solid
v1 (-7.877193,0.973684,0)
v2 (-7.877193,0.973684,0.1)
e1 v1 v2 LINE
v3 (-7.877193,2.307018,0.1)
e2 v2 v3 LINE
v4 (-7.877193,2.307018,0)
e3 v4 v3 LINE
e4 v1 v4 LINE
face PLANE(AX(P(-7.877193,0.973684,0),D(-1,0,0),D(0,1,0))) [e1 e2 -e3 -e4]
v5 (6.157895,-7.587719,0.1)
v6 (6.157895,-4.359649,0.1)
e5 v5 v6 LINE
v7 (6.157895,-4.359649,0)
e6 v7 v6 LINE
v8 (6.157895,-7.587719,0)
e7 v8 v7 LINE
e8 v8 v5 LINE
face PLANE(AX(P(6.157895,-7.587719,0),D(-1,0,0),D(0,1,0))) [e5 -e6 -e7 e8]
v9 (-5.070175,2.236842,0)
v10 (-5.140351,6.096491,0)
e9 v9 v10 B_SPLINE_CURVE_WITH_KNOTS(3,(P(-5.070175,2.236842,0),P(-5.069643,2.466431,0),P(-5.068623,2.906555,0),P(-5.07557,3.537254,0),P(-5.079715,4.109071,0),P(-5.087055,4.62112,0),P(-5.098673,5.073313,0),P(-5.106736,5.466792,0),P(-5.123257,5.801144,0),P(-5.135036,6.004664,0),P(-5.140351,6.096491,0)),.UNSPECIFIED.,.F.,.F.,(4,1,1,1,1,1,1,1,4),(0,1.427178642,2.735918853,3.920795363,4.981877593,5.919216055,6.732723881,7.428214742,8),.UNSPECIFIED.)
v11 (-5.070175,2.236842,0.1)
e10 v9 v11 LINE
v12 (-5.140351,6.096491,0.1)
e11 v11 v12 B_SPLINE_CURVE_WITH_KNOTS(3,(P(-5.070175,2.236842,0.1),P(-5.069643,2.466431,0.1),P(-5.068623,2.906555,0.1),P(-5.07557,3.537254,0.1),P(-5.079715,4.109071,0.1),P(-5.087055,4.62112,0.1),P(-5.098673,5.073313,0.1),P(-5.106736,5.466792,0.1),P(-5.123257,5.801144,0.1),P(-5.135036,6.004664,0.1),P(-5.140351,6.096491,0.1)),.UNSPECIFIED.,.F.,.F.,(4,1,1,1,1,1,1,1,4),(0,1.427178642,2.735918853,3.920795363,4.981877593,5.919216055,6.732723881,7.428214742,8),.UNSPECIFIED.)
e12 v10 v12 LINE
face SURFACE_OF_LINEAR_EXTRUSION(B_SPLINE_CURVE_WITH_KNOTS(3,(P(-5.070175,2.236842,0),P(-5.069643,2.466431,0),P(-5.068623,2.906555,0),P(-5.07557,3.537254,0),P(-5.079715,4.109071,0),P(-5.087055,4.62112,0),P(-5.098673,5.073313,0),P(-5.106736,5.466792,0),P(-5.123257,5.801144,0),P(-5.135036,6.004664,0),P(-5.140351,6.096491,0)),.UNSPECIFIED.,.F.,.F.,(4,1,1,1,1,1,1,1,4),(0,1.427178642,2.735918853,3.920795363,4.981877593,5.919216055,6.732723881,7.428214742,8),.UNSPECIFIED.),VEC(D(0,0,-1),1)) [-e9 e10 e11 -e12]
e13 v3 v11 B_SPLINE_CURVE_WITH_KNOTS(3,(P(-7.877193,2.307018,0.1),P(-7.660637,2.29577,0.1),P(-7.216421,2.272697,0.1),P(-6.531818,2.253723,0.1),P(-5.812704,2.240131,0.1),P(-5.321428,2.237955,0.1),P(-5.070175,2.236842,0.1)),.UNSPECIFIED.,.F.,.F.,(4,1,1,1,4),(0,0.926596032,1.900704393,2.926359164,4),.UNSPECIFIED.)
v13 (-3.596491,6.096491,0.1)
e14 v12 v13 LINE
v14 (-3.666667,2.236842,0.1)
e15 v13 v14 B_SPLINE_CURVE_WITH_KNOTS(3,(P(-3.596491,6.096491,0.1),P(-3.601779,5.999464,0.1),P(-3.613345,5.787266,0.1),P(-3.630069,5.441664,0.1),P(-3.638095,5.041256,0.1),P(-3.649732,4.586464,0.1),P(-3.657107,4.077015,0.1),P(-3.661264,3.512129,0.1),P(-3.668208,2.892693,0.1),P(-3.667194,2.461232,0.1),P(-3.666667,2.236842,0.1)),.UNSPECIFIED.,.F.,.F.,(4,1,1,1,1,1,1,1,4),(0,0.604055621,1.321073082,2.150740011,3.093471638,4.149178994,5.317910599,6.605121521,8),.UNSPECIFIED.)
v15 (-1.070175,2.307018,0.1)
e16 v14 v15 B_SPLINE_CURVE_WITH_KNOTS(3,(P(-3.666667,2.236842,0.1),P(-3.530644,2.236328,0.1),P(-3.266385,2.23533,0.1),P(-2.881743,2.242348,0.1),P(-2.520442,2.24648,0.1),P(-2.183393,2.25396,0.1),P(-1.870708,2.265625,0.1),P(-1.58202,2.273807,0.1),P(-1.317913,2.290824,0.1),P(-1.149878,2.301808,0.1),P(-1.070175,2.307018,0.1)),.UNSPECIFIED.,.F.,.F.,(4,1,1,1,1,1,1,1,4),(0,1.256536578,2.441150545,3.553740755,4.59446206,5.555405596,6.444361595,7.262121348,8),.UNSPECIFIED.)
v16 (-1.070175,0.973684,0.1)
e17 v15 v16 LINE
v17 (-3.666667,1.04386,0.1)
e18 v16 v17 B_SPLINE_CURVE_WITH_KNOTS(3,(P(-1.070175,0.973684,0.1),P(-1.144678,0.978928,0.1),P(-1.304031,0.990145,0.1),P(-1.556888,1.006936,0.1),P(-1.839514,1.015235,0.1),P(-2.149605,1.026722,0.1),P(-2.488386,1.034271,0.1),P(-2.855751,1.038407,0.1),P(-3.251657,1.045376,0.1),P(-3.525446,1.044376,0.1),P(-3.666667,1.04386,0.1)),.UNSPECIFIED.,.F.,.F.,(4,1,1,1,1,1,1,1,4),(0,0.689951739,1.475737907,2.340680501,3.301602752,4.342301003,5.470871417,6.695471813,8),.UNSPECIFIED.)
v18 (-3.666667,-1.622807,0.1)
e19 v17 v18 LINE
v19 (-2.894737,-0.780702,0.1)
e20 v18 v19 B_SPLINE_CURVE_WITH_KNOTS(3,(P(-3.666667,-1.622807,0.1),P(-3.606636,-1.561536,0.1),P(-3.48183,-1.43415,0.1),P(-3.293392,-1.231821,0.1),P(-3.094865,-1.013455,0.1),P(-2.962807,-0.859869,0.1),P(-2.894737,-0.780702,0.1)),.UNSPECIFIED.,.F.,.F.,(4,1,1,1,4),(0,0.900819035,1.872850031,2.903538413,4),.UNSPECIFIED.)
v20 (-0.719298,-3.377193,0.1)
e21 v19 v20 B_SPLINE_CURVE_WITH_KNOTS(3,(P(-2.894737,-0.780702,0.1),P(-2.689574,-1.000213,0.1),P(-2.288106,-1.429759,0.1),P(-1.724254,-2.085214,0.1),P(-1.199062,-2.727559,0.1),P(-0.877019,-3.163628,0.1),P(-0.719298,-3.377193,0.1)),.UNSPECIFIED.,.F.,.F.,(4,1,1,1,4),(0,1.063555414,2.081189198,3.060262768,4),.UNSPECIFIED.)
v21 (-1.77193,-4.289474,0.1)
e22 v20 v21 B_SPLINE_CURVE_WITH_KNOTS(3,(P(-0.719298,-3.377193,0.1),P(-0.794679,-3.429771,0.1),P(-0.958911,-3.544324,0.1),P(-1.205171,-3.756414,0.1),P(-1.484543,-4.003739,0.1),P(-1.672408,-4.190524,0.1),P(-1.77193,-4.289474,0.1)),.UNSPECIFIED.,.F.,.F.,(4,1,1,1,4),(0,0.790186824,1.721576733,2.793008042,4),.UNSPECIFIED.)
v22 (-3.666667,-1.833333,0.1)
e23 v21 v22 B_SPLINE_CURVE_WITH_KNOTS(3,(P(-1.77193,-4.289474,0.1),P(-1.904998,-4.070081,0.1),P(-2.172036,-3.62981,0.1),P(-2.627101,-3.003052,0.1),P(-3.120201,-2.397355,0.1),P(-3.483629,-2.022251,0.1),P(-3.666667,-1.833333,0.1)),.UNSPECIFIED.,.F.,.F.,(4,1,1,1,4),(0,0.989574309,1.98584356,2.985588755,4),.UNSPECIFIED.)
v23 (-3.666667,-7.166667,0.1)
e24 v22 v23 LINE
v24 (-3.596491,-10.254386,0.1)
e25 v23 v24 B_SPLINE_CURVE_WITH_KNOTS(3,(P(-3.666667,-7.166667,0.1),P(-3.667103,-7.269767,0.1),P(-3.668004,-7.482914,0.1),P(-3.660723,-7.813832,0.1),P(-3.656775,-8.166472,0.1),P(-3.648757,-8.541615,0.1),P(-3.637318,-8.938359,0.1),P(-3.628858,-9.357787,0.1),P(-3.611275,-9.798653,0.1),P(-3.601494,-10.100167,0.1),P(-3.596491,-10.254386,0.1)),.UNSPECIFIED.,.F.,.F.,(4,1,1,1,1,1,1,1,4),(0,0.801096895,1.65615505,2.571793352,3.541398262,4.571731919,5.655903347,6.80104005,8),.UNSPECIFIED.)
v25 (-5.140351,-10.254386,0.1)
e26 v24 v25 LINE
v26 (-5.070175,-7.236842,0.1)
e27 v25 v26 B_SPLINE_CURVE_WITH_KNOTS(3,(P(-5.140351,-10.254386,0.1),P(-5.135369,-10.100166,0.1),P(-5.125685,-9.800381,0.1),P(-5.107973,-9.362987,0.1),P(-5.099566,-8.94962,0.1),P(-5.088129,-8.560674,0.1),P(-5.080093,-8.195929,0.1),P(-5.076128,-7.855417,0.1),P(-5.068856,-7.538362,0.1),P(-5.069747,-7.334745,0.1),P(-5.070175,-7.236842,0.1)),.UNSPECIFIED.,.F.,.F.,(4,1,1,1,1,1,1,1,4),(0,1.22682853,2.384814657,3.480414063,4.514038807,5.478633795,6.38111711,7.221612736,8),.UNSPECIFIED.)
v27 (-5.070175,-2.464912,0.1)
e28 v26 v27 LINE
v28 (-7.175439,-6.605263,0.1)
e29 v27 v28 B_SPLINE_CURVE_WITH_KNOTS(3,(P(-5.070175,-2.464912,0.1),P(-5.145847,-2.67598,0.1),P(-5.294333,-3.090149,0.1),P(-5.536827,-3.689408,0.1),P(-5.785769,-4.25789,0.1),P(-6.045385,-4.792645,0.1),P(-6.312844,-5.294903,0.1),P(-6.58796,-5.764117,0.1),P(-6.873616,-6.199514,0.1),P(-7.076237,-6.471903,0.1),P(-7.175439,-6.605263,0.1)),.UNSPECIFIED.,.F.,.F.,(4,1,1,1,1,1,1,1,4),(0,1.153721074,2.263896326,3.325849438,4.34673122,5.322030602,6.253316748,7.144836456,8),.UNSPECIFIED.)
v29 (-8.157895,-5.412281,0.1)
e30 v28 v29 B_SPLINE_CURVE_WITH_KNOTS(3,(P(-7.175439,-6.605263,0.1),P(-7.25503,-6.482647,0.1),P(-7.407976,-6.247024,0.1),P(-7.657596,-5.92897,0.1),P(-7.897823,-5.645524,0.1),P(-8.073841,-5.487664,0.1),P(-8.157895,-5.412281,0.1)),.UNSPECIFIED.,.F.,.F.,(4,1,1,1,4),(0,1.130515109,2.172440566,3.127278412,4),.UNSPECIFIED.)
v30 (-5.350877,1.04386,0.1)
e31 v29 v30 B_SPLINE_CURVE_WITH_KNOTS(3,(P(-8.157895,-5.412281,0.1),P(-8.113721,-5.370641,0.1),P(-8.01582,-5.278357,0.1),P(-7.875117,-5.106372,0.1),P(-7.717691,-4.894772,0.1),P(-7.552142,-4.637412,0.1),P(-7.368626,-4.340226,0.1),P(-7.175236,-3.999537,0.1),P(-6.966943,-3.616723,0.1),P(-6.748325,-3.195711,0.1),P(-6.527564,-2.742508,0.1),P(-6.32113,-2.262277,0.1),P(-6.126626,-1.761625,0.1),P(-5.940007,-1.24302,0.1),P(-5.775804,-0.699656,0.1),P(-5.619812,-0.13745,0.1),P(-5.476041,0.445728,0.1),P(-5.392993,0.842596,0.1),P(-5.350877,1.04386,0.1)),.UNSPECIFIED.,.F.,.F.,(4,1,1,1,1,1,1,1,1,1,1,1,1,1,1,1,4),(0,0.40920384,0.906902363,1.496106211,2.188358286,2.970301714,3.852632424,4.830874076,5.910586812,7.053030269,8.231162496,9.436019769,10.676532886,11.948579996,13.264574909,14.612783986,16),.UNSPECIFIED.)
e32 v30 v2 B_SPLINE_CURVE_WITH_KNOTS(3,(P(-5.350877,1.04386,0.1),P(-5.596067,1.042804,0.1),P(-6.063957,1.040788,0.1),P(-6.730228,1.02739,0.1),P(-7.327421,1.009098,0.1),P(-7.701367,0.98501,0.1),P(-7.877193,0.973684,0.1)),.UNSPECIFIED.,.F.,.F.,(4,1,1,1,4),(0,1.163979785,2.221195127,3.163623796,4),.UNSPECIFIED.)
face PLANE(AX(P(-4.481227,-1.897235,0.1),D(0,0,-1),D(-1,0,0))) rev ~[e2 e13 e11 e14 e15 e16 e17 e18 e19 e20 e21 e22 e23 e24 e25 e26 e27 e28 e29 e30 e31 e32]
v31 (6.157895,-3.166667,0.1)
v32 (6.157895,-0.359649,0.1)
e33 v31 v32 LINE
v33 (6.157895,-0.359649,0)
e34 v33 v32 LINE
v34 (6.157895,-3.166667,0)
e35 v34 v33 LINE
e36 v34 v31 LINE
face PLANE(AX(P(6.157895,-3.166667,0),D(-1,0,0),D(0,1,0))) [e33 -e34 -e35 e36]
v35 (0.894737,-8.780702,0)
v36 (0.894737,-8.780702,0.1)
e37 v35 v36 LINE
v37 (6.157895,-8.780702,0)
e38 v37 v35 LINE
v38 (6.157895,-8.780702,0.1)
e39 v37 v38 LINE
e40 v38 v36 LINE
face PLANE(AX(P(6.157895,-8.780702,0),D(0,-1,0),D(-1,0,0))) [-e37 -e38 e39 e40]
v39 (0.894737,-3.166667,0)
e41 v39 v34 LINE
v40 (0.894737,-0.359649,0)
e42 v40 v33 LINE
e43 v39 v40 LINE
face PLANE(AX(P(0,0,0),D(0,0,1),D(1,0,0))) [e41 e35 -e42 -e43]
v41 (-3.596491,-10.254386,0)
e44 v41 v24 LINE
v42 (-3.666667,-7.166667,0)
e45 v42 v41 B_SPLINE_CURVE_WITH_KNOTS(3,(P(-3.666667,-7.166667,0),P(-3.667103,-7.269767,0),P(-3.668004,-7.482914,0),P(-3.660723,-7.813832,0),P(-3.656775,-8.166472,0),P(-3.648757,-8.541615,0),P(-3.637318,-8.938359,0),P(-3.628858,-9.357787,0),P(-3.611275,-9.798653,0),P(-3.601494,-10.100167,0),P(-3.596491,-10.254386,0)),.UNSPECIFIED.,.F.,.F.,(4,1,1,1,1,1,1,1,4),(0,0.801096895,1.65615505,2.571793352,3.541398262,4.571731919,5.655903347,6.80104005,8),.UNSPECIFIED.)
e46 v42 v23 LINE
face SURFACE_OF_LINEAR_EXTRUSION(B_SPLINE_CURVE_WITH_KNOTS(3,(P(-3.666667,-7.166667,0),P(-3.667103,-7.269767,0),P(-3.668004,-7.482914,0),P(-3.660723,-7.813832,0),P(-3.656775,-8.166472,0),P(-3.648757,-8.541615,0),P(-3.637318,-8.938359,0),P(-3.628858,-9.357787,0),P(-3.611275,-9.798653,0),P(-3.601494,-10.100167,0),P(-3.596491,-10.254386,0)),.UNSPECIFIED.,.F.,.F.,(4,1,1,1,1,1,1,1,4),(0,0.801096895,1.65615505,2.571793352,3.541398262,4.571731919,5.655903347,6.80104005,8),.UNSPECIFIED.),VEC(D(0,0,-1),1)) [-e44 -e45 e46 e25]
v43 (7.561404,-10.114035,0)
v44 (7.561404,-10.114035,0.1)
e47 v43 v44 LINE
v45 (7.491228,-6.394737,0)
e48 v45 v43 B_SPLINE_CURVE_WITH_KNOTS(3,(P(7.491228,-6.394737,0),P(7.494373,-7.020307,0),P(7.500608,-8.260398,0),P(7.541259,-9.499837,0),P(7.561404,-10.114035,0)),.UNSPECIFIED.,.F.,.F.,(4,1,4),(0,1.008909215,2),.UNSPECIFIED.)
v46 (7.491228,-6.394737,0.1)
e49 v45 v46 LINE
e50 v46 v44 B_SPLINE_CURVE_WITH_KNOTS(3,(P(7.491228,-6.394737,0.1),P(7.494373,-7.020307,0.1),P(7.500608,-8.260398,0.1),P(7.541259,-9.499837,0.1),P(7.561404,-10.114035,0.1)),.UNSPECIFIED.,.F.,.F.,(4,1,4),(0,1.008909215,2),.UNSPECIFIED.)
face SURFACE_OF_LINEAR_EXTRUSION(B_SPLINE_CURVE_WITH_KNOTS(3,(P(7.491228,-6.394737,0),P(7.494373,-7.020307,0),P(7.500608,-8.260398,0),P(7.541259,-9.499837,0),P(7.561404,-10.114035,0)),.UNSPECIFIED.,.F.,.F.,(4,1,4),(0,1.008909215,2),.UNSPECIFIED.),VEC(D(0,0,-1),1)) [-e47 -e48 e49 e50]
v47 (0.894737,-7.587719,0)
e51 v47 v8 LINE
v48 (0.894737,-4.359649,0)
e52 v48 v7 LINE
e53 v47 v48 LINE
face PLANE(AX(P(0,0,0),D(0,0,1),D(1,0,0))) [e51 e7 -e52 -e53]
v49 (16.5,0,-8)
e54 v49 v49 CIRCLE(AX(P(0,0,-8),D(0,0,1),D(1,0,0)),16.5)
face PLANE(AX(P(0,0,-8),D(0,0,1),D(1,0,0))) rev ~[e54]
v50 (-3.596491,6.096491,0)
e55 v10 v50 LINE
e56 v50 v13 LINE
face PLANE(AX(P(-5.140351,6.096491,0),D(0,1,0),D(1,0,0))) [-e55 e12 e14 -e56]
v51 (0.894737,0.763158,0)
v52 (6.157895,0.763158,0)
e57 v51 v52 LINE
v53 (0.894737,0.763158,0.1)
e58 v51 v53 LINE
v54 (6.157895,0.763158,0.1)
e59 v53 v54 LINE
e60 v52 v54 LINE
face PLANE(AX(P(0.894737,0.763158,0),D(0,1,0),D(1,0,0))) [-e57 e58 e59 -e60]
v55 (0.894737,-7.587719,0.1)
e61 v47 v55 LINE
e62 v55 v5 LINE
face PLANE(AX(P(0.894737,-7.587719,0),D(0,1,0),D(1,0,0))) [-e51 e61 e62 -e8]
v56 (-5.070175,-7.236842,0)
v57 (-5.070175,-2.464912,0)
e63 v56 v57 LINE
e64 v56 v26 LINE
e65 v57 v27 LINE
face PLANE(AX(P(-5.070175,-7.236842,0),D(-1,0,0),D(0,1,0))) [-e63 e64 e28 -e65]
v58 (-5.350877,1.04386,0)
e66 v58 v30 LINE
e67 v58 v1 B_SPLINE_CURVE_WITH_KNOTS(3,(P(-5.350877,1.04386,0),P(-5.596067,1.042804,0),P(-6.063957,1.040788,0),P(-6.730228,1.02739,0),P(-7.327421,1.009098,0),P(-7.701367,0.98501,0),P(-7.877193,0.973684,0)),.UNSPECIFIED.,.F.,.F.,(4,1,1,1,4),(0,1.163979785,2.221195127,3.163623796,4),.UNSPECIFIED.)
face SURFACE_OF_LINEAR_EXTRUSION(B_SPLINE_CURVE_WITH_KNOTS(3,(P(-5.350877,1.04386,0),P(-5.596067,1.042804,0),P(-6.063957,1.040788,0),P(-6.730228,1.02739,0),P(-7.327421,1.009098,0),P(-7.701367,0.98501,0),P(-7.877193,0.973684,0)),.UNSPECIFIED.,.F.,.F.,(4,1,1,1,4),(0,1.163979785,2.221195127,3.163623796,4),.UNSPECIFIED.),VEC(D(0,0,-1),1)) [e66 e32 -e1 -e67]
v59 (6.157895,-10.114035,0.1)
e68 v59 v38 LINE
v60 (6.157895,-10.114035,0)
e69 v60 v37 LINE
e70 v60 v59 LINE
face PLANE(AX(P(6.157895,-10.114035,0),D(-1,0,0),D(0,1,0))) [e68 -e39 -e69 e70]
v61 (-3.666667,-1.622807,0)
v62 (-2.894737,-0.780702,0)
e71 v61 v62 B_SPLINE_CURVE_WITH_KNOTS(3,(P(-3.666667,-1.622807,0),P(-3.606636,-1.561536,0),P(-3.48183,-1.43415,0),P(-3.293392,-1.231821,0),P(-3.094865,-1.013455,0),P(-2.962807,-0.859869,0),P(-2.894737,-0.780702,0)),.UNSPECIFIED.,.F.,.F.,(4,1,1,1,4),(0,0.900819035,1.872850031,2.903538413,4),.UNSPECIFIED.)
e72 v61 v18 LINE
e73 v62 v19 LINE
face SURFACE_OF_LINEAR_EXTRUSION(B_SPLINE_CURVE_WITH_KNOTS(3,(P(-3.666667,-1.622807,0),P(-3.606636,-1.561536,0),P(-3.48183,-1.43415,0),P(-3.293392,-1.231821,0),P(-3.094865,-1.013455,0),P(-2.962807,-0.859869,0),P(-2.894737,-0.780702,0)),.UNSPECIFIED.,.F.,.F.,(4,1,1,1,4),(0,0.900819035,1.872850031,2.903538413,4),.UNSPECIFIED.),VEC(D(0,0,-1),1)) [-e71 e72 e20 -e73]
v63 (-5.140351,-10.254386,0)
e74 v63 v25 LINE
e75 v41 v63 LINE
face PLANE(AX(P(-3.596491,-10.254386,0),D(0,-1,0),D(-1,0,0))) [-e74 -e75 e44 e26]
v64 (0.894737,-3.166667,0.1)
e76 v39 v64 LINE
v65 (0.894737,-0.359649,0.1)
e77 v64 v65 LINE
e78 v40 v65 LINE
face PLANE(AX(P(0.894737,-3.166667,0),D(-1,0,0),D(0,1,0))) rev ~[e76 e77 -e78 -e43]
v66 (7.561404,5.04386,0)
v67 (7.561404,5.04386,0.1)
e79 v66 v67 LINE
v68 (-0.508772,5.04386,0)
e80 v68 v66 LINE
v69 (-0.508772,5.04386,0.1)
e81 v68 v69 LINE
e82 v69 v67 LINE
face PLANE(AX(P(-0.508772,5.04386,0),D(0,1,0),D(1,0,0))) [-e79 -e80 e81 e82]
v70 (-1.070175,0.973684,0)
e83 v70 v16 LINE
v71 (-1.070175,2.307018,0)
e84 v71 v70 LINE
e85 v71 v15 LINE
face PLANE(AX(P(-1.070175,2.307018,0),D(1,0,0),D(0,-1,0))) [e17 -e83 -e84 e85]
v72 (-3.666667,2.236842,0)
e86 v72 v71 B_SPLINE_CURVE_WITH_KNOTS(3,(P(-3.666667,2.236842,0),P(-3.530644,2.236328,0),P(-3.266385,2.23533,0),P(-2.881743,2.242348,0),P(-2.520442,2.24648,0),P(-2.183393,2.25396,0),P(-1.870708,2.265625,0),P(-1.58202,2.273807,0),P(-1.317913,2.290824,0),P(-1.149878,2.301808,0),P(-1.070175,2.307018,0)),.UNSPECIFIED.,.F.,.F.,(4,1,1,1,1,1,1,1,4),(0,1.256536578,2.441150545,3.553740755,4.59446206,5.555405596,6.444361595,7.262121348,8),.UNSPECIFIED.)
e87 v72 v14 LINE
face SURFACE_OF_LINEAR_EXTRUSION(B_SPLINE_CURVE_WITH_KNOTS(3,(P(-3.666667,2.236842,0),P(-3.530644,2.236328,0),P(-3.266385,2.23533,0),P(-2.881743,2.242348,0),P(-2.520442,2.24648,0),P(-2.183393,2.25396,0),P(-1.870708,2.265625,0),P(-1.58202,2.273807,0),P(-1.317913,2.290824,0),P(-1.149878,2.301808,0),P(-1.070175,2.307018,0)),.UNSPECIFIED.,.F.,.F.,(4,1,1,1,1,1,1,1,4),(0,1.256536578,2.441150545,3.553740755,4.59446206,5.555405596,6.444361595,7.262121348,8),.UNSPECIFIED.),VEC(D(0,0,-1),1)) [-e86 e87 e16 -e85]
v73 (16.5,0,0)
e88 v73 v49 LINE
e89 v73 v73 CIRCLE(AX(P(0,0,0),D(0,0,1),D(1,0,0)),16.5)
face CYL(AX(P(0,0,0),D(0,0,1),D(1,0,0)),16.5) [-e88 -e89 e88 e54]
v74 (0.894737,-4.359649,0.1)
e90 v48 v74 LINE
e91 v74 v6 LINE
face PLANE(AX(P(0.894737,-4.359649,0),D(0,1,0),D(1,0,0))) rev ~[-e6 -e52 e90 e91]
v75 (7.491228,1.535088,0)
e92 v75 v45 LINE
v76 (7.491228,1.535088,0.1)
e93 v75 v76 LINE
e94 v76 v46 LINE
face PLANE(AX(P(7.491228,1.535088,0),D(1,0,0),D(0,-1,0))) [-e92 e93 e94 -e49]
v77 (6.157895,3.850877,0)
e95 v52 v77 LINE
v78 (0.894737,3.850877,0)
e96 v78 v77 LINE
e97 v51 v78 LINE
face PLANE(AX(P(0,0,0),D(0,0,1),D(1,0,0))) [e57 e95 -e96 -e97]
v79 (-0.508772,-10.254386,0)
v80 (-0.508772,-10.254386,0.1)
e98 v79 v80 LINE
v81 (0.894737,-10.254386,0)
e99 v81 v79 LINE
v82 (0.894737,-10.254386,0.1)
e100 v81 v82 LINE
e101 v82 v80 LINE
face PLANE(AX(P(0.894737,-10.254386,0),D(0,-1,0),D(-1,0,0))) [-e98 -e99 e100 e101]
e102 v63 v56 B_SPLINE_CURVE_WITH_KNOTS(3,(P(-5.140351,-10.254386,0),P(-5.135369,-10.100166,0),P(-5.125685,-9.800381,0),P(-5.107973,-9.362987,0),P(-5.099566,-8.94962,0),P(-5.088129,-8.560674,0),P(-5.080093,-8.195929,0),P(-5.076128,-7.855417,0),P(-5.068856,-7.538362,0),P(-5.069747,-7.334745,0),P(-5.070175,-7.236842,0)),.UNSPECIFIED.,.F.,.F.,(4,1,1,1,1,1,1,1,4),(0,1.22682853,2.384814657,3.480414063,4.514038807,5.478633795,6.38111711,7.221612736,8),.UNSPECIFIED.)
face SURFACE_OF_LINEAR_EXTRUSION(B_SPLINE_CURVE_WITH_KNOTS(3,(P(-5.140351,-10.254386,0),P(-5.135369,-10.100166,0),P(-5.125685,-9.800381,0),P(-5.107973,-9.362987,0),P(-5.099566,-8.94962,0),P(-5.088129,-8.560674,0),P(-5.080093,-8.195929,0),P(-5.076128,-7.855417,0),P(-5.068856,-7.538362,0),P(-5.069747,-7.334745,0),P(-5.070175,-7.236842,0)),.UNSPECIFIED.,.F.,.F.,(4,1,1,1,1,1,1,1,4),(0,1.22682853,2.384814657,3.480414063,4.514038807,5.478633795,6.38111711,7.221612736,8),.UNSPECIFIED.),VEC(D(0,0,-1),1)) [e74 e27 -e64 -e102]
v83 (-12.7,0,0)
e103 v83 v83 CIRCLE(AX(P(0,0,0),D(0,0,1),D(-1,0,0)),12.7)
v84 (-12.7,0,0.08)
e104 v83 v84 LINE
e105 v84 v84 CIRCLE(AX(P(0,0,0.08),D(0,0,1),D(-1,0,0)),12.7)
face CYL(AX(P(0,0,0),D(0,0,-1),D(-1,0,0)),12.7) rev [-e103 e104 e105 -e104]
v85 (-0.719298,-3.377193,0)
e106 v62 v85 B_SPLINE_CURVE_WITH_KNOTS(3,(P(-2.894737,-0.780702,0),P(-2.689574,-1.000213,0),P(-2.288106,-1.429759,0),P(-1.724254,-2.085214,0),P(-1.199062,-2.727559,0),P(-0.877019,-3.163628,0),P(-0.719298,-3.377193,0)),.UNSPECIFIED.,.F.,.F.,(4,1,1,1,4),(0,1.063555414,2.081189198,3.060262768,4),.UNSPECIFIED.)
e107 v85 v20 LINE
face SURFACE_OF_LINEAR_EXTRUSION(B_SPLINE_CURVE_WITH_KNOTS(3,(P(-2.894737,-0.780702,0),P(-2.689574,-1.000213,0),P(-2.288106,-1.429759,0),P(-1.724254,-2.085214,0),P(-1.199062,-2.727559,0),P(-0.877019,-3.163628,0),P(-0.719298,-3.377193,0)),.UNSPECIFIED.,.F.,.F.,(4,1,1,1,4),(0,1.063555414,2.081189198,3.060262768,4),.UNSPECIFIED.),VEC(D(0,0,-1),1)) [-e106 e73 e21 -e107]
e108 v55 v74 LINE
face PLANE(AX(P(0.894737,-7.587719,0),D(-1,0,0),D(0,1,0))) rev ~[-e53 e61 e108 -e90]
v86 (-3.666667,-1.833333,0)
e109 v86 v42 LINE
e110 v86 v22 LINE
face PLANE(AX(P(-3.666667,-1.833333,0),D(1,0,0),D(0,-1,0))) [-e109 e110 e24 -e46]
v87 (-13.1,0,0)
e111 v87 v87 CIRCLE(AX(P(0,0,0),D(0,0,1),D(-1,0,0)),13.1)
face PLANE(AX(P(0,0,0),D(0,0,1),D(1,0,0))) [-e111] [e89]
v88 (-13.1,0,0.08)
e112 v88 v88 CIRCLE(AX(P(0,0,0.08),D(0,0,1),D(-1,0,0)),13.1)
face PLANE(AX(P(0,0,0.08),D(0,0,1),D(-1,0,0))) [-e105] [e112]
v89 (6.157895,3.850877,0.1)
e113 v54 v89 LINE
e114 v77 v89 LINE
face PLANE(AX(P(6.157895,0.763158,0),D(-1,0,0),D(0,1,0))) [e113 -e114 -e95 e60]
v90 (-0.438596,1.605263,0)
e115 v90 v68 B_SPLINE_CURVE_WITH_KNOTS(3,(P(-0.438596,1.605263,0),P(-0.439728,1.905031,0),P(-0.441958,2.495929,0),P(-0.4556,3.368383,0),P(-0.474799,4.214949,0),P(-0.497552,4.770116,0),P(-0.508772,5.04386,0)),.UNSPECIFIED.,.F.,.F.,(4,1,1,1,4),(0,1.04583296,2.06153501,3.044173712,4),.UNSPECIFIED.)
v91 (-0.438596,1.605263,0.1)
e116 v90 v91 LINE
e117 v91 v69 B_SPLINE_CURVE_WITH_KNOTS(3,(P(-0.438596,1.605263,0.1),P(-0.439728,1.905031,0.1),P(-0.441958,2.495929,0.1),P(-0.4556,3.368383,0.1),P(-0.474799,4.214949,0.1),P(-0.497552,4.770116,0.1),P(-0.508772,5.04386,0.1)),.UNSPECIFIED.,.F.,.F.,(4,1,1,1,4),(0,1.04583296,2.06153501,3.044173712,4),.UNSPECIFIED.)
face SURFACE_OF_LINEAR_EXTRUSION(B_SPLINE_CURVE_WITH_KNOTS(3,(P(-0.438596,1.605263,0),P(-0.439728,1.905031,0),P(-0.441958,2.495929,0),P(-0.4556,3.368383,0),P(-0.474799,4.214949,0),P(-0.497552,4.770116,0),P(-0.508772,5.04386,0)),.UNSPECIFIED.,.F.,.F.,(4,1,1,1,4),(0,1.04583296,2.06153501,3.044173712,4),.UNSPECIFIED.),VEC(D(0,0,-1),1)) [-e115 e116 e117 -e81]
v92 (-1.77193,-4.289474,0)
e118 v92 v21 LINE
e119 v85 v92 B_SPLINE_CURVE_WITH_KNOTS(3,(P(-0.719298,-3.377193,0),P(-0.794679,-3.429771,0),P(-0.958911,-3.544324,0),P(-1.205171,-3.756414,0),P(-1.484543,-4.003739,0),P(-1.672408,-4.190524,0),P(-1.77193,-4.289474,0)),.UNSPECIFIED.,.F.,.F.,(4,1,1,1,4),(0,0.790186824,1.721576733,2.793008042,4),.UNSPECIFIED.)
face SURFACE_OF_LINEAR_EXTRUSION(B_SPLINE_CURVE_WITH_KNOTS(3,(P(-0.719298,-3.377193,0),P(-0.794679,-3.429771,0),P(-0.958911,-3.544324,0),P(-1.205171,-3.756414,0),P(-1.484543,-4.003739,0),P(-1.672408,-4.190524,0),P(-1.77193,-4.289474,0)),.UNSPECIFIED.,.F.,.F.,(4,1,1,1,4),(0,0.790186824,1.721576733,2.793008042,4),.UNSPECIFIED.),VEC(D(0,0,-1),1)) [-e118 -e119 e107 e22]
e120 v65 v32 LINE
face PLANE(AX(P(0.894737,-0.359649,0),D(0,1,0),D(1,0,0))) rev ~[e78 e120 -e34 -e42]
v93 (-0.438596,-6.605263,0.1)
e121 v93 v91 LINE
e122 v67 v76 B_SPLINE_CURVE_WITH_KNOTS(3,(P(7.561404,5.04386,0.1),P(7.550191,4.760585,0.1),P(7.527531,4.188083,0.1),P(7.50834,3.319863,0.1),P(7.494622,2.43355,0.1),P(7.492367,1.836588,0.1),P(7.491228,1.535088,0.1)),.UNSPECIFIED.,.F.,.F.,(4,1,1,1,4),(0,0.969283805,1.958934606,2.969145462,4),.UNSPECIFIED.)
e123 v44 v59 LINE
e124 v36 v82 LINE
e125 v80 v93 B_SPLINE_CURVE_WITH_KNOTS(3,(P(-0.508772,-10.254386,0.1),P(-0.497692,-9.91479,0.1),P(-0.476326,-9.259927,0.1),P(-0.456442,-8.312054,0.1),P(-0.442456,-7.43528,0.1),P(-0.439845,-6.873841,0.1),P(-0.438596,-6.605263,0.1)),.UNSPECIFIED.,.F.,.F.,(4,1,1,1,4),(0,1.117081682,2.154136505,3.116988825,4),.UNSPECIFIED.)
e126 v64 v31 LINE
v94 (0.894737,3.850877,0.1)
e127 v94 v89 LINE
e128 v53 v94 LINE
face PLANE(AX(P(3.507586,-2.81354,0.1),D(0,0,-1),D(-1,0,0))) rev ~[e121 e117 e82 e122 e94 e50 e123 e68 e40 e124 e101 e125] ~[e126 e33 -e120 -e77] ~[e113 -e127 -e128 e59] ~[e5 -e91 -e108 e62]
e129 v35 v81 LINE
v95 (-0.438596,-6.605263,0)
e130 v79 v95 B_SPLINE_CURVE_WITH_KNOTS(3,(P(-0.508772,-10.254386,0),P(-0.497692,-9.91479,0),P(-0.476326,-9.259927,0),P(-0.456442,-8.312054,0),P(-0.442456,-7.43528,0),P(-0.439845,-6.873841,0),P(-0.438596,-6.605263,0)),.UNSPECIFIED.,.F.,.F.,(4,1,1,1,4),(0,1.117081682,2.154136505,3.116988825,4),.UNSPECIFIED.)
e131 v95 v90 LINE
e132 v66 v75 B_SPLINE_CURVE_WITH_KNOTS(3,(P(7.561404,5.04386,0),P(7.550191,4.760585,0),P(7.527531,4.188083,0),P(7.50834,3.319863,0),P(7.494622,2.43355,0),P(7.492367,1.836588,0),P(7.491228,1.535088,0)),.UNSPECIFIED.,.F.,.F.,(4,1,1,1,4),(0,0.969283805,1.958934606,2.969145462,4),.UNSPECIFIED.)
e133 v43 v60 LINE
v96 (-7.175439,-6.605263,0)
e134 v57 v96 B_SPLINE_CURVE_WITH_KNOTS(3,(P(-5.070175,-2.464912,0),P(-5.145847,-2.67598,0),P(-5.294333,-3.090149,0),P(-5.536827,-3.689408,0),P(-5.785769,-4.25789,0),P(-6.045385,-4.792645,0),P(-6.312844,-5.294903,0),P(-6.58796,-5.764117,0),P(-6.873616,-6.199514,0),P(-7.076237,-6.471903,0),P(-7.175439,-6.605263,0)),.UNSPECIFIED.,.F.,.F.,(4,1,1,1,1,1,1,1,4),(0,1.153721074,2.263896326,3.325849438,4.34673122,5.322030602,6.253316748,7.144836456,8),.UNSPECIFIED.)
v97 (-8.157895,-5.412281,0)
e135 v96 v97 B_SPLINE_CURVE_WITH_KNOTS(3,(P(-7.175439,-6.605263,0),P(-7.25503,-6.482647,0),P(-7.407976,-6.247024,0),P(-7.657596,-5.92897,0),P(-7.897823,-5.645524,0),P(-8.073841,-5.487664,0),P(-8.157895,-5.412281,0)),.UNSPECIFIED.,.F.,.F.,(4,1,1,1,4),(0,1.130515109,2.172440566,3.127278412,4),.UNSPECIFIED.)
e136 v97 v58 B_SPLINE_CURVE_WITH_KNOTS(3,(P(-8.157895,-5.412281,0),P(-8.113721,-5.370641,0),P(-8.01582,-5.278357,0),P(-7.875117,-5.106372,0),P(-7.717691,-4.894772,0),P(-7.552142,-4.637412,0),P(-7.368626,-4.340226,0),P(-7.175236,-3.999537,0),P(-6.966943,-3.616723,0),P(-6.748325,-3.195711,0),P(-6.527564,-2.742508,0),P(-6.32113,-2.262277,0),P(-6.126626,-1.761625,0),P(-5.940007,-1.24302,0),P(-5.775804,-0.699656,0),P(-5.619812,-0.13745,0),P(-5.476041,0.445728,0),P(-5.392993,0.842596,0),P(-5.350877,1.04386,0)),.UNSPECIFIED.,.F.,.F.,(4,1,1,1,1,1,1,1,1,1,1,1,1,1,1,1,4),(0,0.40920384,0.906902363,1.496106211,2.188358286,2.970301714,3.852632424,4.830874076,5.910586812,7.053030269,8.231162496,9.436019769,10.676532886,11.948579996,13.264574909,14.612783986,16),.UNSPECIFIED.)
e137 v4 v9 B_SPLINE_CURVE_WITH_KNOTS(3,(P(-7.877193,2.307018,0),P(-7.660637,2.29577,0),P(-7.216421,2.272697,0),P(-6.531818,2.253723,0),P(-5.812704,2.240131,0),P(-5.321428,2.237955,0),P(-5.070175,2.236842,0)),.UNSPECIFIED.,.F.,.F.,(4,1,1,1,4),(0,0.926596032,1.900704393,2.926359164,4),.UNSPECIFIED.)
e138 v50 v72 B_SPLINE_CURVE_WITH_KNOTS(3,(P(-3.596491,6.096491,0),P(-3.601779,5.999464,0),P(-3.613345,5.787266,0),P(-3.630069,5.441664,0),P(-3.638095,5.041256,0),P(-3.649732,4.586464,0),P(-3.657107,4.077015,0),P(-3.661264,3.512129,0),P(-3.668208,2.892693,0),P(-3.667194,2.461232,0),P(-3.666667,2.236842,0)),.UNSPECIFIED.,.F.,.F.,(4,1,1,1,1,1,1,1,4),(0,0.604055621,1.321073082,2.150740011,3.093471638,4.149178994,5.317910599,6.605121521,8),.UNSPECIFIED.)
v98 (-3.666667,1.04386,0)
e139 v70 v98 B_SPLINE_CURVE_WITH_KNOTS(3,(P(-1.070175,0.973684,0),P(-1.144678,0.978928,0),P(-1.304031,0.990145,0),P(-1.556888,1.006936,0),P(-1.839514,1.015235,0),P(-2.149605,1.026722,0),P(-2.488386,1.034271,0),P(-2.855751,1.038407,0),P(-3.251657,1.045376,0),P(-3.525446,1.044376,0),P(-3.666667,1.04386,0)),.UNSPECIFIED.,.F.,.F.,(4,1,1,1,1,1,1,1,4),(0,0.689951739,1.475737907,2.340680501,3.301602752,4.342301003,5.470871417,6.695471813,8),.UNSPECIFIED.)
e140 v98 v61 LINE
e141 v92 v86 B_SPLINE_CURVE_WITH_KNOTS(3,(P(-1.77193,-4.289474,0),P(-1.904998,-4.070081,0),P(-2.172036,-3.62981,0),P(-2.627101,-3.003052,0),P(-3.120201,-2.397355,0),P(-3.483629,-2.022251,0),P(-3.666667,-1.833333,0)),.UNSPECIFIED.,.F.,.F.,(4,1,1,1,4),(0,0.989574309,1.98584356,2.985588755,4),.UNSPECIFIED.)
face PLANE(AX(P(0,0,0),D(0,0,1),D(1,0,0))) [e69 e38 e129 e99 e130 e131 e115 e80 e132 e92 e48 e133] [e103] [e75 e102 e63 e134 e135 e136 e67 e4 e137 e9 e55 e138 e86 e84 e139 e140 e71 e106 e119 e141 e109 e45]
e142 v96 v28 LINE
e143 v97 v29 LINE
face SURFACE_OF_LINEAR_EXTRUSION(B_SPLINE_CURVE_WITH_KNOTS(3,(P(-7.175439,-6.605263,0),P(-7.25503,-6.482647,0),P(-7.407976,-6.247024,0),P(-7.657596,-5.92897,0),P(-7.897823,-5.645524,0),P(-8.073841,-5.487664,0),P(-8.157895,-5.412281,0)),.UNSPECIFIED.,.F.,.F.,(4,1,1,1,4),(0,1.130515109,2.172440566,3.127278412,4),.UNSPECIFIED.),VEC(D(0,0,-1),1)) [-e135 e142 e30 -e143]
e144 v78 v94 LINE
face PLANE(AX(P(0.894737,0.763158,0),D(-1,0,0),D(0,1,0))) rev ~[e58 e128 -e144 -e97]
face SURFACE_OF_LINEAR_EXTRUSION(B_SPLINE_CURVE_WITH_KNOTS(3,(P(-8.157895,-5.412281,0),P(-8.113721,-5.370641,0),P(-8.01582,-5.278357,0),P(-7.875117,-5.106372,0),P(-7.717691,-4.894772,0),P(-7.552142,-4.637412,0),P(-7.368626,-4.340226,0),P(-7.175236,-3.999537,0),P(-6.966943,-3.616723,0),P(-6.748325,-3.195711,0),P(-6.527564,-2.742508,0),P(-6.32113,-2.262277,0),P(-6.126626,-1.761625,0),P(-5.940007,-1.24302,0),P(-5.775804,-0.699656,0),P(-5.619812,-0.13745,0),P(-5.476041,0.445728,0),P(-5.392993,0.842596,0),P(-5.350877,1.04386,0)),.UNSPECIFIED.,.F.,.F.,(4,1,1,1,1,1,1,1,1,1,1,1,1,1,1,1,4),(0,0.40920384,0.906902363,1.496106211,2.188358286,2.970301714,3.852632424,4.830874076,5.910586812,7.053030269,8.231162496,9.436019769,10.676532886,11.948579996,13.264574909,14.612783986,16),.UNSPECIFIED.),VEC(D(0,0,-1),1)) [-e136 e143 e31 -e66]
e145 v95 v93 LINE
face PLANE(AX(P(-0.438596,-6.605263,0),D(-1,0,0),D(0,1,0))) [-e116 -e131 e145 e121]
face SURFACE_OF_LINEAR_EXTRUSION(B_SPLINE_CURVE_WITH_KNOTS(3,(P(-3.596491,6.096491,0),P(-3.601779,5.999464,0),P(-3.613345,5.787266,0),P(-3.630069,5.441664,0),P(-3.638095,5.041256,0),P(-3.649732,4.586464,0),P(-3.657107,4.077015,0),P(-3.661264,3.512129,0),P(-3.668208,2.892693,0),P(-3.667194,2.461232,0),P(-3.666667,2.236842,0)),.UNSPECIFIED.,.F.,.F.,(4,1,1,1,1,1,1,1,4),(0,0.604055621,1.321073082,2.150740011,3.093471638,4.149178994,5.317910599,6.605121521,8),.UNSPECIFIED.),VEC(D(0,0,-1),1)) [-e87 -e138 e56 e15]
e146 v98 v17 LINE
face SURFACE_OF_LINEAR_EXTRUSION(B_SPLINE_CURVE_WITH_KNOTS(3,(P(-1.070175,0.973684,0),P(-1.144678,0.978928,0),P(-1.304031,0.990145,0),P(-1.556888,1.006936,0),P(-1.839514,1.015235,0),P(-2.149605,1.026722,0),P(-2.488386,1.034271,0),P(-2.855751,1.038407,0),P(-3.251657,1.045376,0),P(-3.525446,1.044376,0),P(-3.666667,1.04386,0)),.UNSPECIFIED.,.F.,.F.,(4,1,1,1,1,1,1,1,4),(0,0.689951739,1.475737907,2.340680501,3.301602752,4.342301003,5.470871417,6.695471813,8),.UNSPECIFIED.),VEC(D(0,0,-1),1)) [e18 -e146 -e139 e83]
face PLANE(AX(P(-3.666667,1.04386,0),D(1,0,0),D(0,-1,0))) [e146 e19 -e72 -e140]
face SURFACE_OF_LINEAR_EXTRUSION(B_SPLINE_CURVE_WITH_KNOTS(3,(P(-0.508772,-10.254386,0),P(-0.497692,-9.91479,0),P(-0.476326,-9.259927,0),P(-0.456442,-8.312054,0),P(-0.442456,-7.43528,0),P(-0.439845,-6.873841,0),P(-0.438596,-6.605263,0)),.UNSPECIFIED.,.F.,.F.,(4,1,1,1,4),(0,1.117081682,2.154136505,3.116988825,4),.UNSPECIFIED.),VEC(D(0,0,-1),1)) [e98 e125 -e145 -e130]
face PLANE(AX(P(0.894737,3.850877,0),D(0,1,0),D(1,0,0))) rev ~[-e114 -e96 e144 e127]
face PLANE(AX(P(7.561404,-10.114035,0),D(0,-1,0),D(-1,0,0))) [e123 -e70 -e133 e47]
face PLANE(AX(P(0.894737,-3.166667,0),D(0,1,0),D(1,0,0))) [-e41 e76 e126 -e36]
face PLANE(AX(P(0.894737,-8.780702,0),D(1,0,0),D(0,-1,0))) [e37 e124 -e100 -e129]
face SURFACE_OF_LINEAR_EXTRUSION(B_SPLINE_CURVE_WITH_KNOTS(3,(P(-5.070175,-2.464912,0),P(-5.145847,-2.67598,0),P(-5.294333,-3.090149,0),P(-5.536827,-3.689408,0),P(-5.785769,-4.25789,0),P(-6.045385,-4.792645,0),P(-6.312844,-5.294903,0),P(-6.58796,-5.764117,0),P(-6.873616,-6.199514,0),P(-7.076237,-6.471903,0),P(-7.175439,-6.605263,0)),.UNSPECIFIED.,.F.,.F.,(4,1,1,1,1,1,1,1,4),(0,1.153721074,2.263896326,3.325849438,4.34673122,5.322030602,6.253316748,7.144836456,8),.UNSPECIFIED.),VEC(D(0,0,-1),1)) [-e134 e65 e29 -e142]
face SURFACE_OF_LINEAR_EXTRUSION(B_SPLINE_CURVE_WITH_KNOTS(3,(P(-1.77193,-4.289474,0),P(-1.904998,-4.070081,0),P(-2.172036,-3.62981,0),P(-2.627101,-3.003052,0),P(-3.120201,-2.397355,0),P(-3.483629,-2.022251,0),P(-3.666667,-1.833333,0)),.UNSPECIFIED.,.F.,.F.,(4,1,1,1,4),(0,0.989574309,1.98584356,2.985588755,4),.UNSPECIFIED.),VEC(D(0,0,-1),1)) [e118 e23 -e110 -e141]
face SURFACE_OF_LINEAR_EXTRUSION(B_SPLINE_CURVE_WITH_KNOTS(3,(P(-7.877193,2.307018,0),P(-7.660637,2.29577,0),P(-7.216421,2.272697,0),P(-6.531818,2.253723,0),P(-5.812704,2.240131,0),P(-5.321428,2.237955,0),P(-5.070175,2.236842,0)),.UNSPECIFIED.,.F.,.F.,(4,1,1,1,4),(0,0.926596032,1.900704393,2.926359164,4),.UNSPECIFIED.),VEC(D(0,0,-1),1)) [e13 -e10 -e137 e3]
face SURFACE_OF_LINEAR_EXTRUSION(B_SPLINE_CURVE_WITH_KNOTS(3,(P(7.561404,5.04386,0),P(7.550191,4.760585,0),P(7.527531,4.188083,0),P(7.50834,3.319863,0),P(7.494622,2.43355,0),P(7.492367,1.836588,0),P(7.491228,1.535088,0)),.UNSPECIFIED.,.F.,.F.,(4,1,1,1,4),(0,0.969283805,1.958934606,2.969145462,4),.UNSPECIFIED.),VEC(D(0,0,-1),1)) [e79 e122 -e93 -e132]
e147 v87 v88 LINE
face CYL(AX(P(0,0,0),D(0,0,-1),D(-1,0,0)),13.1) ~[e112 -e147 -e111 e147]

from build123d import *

# Parameters (mm, degrees)
SKETCH_1_R               = 16.5
DIAMETER33_HEIGHT8_DEPTH = 8
SKETCH_2_W               = 5.263157895
SKETCH_2_H               = 3.228070175
SKETCH_2_H_2             = 3.087719298
SKETCH_2_H_3             = 2.807017544
CHARACTER_DEPTH          = 0.1
SKETCH_3_R               = 13.1
SKETCH_3_R_2             = 12.7
INK_RING_DEPTH           = 0.08


with BuildPart() as part:
    # 草图1 → Diameter33_Height8 (new body)
    with BuildSketch(Plane.XY):
        Circle(SKETCH_1_R)
    extrude(amount=-DIAMETER33_HEIGHT8_DEPTH)

    # 草图2 → Character_相 (add)
    # profile 1 of 2: a face of its own
    with BuildSketch(Plane.XY):
        with BuildLine():
            add(Edge.make_bspline(
                [(7.561403509, 5.043859649), (7.55019112, 4.760584697), (7.527530744, 4.188082503), (7.508340227, 3.319863454), (7.49462205, 2.433550242), (7.492367, 1.83658782), (7.49122807, 1.535087719)],
                knots=[0, 0, 0, 0, 0.969283805, 1.958934606, 2.969145462, 4, 4, 4, 4], degree=3))
            Line((7.49122807, 1.535087719), (7.49122807, -6.394736842))
            add(Edge.make_bspline(
                [(7.49122807, -6.394736842), (7.494373274, -7.020306568), (7.500608133, -8.260397781), (7.541259106, -9.499836795), (7.561403509, -10.114035088)],
                knots=[0, 0, 0, 0, 1.008909215, 2, 2, 2, 2], degree=3))
            Line((7.561403509, -10.114035088), (6.157894737, -10.114035088))
            Line((6.157894737, -10.114035088), (6.157894737, -8.780701754))
            Line((6.157894737, -8.780701754), (0.894736842, -8.780701754))
            Line((0.894736842, -8.780701754), (0.894736842, -10.254385965))
            Line((0.894736842, -10.254385965), (-0.50877193, -10.254385965))
            add(Edge.make_bspline(
                [(-0.50877193, -10.254385965), (-0.497692205, -9.914790058), (-0.476326497, -9.259926631), (-0.456441705, -8.312053821), (-0.44245572, -7.435279895), (-0.439845263, -6.873840554), (-0.438596491, -6.605263158)],
                knots=[0, 0, 0, 0, 1.117081682, 2.154136505, 3.116988825, 4, 4, 4, 4], degree=3))
            Line((-0.438596491, -6.605263158), (-0.438596491, 1.605263158))
            add(Edge.make_bspline(
                [(-0.438596491, 1.605263158), (-0.439728026, 1.905030661), (-0.441958496, 2.495929231), (-0.45560045, 3.368382891), (-0.474798879, 4.214949159), (-0.497552487, 4.770115799), (-0.50877193, 5.043859649)],
                knots=[0, 0, 0, 0, 1.04583296, 2.06153501, 3.044173712, 4, 4, 4, 4], degree=3))
            Line((-0.50877193, 5.043859649), (7.561403509, 5.043859649))
        make_face()
        with Locations((3.52631579, -5.973684211)):
            Rectangle(SKETCH_2_W, SKETCH_2_H, mode=Mode.SUBTRACT)
        with Locations((3.52631579, 2.307017544)):
            Rectangle(SKETCH_2_W, SKETCH_2_H_2, mode=Mode.SUBTRACT)
        with Locations((3.52631579, -1.763157895)):
            Rectangle(SKETCH_2_W, SKETCH_2_H_3, mode=Mode.SUBTRACT)
    # profile 2 of 2: a face of its own
    with BuildSketch(Plane.XY):
        with BuildLine():
            add(Edge.make_bspline(
                [(-5.070175439, 2.236842105), (-5.069643134, 2.466430588), (-5.068622699, 2.906554508), (-5.075570455, 3.53725376), (-5.079714917, 4.10907054), (-5.087055031, 4.62111986), (-5.098673186, 5.0733128), (-5.106736303, 5.466792434), (-5.12325681, 5.801143721), (-5.135036136, 6.004664303), (-5.140350877, 6.096491228)],
                knots=[0, 0, 0, 0, 1.427178642, 2.735918853, 3.920795363, 4.981877593, 5.919216055, 6.732723881, 7.428214742, 8, 8, 8, 8], degree=3))
            Line((-5.140350877, 6.096491228), (-3.596491228, 6.096491228))
            add(Edge.make_bspline(
                [(-3.596491228, 6.096491228), (-3.601779492, 5.999464476), (-3.613344956, 5.787266417), (-3.630069425, 5.441663603), (-3.638095211, 5.041255673), (-3.649732329, 4.586464135), (-3.657106974, 4.077015184), (-3.661264203, 3.512129116), (-3.668208495, 2.892692888), (-3.667194182, 2.461232429), (-3.666666667, 2.236842105)],
                knots=[0, 0, 0, 0, 0.604055621, 1.321073082, 2.150740011, 3.093471638, 4.149178994, 5.317910599, 6.605121521, 8, 8, 8, 8], degree=3))
            add(Edge.make_bspline(
                [(-3.666666667, 2.236842105), (-3.530644111, 2.236328112), (-3.266384763, 2.235329545), (-2.88174296, 2.242348317), (-2.520442081, 2.246480446), (-2.183393026, 2.253960205), (-1.870707533, 2.265624871), (-1.582020196, 2.273807132), (-1.317912922, 2.290824228), (-1.149878443, 2.301807771), (-1.070175439, 2.307017544)],
                knots=[0, 0, 0, 0, 1.256536578, 2.441150545, 3.553740755, 4.59446206, 5.555405596, 6.444361595, 7.262121348, 8, 8, 8, 8], degree=3))
            Line((-1.070175439, 2.307017544), (-1.070175439, 0.973684211))
            add(Edge.make_bspline(
                [(-1.070175439, 0.973684211), (-1.144677854, 0.978928331), (-1.304031085, 0.990144981), (-1.556887974, 1.006935749), (-1.839513589, 1.015234756), (-2.149605268, 1.026721716), (-2.488385884, 1.034270902), (-2.855751381, 1.03840672), (-3.251657288, 1.045376401), (-3.525446035, 1.044375774), (-3.666666667, 1.043859649)],
                knots=[0, 0, 0, 0, 0.689951739, 1.475737907, 2.340680501, 3.301602752, 4.342301003, 5.470871417, 6.695471813, 8, 8, 8, 8], degree=3))
            Line((-3.666666667, 1.043859649), (-3.666666667, -1.622807018))
            add(Edge.make_bspline(
                [(-3.666666667, -1.622807018), (-3.606636203, -1.561535904), (-3.48182972, -1.434150045), (-3.293392102, -1.23182095), (-3.094864807, -1.013455465), (-2.962807273, -0.859869327), (-2.894736842, -0.780701754)],
                knots=[0, 0, 0, 0, 0.900819035, 1.872850031, 2.903538413, 4, 4, 4, 4], degree=3))
            add(Edge.make_bspline(
                [(-2.894736842, -0.780701754), (-2.689573637, -1.00021337), (-2.288105654, -1.429758644), (-1.724253911, -2.085214095), (-1.199061827, -2.727559357), (-0.877018772, -3.163628299), (-0.719298246, -3.377192982)],
                knots=[0, 0, 0, 0, 1.063555414, 2.081189198, 3.060262768, 4, 4, 4, 4], degree=3))
            add(Edge.make_bspline(
                [(-0.719298246, -3.377192982), (-0.794679109, -3.429771468), (-0.958911081, -3.544323996), (-1.205171009, -3.756414434), (-1.484543132, -4.003739185), (-1.672408418, -4.190524428), (-1.771929825, -4.289473684)],
                knots=[0, 0, 0, 0, 0.790186824, 1.721576733, 2.793008042, 4, 4, 4, 4], degree=3))
            add(Edge.make_bspline(
                [(-1.771929825, -4.289473684), (-1.904998341, -4.0700807), (-2.172035646, -3.629810433), (-2.627101337, -3.003052442), (-3.120200979, -2.3973547), (-3.483629338, -2.022250893), (-3.666666667, -1.833333333)],
                knots=[0, 0, 0, 0, 0.989574309, 1.98584356, 2.985588755, 4, 4, 4, 4], degree=3))
            Line((-3.666666667, -1.833333333), (-3.666666667, -7.166666667))
            add(Edge.make_bspline(
                [(-3.666666667, -7.166666667), (-3.66710265, -7.269767462), (-3.668003985, -7.48291384), (-3.66072287, -7.813831844), (-3.656774838, -8.166472041), (-3.648756785, -8.54161481), (-3.637317912, -8.938358747), (-3.628857904, -9.357787252), (-3.611274705, -9.798652569), (-3.601493913, -10.100167122), (-3.596491228, -10.254385965)],
                knots=[0, 0, 0, 0, 0.801096895, 1.65615505, 2.571793352, 3.541398262, 4.571731919, 5.655903347, 6.80104005, 8, 8, 8, 8], degree=3))
            Line((-3.596491228, -10.254385965), (-5.140350877, -10.254385965))
            add(Edge.make_bspline(
                [(-5.140350877, -10.254385965), (-5.135369022, -10.10016635), (-5.125684865, -9.80038102), (-5.107972861, -9.362986873), (-5.099566341, -8.949620037), (-5.088128806, -8.560674404), (-5.080093207, -8.195928707), (-5.076127742, -7.855416847), (-5.068855811, -7.538361954), (-5.069746959, -7.334744801), (-5.070175439, -7.236842105)],
                knots=[0, 0, 0, 0, 1.22682853, 2.384814657, 3.480414063, 4.514038807, 5.478633795, 6.38111711, 7.221612736, 8, 8, 8, 8], degree=3))
            Line((-5.070175439, -7.236842105), (-5.070175439, -2.464912281))
            add(Edge.make_bspline(
                [(-5.070175439, -2.464912281), (-5.145846519, -2.675980137), (-5.294332566, -3.090149346), (-5.536827031, -3.689408015), (-5.785768752, -4.257890313), (-6.045384746, -4.792645481), (-6.312844256, -5.294903161), (-6.587960306, -5.764116531), (-6.873615691, -6.199513832), (-7.076236773, -6.471903257), (-7.175438596, -6.605263158)],
                knots=[0, 0, 0, 0, 1.153721074, 2.263896326, 3.325849438, 4.34673122, 5.322030602, 6.253316748, 7.144836456, 8, 8, 8, 8], degree=3))
            add(Edge.make_bspline(
                [(-7.175438596, -6.605263158), (-7.255029914, -6.482647166), (-7.407975598, -6.247023641), (-7.657596365, -5.928969858), (-7.897823334, -5.645524257), (-8.073840549, -5.487664221), (-8.157894737, -5.412280702)],
                knots=[0, 0, 0, 0, 1.130515109, 2.172440566, 3.127278412, 4, 4, 4, 4], degree=3))
            add(Edge.make_bspline(
                [(-8.157894737, -5.412280702), (-8.113720781, -5.370641152), (-8.01581978, -5.278357058), (-7.875116797, -5.106371966), (-7.717691149, -4.894771662), (-7.55214221, -4.637411783), (-7.368626266, -4.340225536), (-7.17523642, -3.999537296), (-6.966943261, -3.616722912), (-6.748324508, -3.195711401), (-6.527564492, -2.742508267), (-6.321130463, -2.262276924), (-6.126625974, -1.76162537), (-5.940007338, -1.243020266), (-5.775804486, -0.699655792), (-5.619811727, -0.137450112), (-5.476041057, 0.445727539), (-5.392993233, 0.842595842), (-5.350877193, 1.043859649)],
                knots=[0, 0, 0, 0, 0.40920384, 0.906902363, 1.496106211, 2.188358286, 2.970301714, 3.852632424, 4.830874076, 5.910586812, 7.053030269, 8.231162496, 9.436019769, 10.676532886, 11.948579996, 13.264574909, 14.612783986, 16, 16, 16, 16], degree=3))
            add(Edge.make_bspline(
                [(-5.350877193, 1.043859649), (-5.59606702, 1.042803509), (-6.063956973, 1.040788102), (-6.730227869, 1.027390075), (-7.327421009, 1.009098406), (-7.701367224, 0.985010229), (-7.877192982, 0.973684211)],
                knots=[0, 0, 0, 0, 1.163979785, 2.221195127, 3.163623796, 4, 4, 4, 4], degree=3))
            Line((-7.877192982, 0.973684211), (-7.877192982, 2.307017544))
            add(Edge.make_bspline(
                [(-7.877192982, 2.307017544), (-7.660637158, 2.295769666), (-7.216421348, 2.272697163), (-6.531817674, 2.253723458), (-5.812703734, 2.240131437), (-5.321428092, 2.237955131), (-5.070175439, 2.236842105)],
                knots=[0, 0, 0, 0, 0.926596032, 1.900704393, 2.926359164, 4, 4, 4, 4], degree=3))
        make_face()
    extrude(amount=CHARACTER_DEPTH)

    # 草图3 → Ink_ring (add)
    with BuildSketch(Plane.XY):
        with Locations(Location((0, 0, 0), (0, 0, 180))):
            Circle(SKETCH_3_R)
        with Locations(Location((0, 0, 0), (0, 0, 180))):
            Circle(SKETCH_3_R_2, mode=Mode.SUBTRACT)
    extrude(amount=INK_RING_DEPTH)


solid = part.part
